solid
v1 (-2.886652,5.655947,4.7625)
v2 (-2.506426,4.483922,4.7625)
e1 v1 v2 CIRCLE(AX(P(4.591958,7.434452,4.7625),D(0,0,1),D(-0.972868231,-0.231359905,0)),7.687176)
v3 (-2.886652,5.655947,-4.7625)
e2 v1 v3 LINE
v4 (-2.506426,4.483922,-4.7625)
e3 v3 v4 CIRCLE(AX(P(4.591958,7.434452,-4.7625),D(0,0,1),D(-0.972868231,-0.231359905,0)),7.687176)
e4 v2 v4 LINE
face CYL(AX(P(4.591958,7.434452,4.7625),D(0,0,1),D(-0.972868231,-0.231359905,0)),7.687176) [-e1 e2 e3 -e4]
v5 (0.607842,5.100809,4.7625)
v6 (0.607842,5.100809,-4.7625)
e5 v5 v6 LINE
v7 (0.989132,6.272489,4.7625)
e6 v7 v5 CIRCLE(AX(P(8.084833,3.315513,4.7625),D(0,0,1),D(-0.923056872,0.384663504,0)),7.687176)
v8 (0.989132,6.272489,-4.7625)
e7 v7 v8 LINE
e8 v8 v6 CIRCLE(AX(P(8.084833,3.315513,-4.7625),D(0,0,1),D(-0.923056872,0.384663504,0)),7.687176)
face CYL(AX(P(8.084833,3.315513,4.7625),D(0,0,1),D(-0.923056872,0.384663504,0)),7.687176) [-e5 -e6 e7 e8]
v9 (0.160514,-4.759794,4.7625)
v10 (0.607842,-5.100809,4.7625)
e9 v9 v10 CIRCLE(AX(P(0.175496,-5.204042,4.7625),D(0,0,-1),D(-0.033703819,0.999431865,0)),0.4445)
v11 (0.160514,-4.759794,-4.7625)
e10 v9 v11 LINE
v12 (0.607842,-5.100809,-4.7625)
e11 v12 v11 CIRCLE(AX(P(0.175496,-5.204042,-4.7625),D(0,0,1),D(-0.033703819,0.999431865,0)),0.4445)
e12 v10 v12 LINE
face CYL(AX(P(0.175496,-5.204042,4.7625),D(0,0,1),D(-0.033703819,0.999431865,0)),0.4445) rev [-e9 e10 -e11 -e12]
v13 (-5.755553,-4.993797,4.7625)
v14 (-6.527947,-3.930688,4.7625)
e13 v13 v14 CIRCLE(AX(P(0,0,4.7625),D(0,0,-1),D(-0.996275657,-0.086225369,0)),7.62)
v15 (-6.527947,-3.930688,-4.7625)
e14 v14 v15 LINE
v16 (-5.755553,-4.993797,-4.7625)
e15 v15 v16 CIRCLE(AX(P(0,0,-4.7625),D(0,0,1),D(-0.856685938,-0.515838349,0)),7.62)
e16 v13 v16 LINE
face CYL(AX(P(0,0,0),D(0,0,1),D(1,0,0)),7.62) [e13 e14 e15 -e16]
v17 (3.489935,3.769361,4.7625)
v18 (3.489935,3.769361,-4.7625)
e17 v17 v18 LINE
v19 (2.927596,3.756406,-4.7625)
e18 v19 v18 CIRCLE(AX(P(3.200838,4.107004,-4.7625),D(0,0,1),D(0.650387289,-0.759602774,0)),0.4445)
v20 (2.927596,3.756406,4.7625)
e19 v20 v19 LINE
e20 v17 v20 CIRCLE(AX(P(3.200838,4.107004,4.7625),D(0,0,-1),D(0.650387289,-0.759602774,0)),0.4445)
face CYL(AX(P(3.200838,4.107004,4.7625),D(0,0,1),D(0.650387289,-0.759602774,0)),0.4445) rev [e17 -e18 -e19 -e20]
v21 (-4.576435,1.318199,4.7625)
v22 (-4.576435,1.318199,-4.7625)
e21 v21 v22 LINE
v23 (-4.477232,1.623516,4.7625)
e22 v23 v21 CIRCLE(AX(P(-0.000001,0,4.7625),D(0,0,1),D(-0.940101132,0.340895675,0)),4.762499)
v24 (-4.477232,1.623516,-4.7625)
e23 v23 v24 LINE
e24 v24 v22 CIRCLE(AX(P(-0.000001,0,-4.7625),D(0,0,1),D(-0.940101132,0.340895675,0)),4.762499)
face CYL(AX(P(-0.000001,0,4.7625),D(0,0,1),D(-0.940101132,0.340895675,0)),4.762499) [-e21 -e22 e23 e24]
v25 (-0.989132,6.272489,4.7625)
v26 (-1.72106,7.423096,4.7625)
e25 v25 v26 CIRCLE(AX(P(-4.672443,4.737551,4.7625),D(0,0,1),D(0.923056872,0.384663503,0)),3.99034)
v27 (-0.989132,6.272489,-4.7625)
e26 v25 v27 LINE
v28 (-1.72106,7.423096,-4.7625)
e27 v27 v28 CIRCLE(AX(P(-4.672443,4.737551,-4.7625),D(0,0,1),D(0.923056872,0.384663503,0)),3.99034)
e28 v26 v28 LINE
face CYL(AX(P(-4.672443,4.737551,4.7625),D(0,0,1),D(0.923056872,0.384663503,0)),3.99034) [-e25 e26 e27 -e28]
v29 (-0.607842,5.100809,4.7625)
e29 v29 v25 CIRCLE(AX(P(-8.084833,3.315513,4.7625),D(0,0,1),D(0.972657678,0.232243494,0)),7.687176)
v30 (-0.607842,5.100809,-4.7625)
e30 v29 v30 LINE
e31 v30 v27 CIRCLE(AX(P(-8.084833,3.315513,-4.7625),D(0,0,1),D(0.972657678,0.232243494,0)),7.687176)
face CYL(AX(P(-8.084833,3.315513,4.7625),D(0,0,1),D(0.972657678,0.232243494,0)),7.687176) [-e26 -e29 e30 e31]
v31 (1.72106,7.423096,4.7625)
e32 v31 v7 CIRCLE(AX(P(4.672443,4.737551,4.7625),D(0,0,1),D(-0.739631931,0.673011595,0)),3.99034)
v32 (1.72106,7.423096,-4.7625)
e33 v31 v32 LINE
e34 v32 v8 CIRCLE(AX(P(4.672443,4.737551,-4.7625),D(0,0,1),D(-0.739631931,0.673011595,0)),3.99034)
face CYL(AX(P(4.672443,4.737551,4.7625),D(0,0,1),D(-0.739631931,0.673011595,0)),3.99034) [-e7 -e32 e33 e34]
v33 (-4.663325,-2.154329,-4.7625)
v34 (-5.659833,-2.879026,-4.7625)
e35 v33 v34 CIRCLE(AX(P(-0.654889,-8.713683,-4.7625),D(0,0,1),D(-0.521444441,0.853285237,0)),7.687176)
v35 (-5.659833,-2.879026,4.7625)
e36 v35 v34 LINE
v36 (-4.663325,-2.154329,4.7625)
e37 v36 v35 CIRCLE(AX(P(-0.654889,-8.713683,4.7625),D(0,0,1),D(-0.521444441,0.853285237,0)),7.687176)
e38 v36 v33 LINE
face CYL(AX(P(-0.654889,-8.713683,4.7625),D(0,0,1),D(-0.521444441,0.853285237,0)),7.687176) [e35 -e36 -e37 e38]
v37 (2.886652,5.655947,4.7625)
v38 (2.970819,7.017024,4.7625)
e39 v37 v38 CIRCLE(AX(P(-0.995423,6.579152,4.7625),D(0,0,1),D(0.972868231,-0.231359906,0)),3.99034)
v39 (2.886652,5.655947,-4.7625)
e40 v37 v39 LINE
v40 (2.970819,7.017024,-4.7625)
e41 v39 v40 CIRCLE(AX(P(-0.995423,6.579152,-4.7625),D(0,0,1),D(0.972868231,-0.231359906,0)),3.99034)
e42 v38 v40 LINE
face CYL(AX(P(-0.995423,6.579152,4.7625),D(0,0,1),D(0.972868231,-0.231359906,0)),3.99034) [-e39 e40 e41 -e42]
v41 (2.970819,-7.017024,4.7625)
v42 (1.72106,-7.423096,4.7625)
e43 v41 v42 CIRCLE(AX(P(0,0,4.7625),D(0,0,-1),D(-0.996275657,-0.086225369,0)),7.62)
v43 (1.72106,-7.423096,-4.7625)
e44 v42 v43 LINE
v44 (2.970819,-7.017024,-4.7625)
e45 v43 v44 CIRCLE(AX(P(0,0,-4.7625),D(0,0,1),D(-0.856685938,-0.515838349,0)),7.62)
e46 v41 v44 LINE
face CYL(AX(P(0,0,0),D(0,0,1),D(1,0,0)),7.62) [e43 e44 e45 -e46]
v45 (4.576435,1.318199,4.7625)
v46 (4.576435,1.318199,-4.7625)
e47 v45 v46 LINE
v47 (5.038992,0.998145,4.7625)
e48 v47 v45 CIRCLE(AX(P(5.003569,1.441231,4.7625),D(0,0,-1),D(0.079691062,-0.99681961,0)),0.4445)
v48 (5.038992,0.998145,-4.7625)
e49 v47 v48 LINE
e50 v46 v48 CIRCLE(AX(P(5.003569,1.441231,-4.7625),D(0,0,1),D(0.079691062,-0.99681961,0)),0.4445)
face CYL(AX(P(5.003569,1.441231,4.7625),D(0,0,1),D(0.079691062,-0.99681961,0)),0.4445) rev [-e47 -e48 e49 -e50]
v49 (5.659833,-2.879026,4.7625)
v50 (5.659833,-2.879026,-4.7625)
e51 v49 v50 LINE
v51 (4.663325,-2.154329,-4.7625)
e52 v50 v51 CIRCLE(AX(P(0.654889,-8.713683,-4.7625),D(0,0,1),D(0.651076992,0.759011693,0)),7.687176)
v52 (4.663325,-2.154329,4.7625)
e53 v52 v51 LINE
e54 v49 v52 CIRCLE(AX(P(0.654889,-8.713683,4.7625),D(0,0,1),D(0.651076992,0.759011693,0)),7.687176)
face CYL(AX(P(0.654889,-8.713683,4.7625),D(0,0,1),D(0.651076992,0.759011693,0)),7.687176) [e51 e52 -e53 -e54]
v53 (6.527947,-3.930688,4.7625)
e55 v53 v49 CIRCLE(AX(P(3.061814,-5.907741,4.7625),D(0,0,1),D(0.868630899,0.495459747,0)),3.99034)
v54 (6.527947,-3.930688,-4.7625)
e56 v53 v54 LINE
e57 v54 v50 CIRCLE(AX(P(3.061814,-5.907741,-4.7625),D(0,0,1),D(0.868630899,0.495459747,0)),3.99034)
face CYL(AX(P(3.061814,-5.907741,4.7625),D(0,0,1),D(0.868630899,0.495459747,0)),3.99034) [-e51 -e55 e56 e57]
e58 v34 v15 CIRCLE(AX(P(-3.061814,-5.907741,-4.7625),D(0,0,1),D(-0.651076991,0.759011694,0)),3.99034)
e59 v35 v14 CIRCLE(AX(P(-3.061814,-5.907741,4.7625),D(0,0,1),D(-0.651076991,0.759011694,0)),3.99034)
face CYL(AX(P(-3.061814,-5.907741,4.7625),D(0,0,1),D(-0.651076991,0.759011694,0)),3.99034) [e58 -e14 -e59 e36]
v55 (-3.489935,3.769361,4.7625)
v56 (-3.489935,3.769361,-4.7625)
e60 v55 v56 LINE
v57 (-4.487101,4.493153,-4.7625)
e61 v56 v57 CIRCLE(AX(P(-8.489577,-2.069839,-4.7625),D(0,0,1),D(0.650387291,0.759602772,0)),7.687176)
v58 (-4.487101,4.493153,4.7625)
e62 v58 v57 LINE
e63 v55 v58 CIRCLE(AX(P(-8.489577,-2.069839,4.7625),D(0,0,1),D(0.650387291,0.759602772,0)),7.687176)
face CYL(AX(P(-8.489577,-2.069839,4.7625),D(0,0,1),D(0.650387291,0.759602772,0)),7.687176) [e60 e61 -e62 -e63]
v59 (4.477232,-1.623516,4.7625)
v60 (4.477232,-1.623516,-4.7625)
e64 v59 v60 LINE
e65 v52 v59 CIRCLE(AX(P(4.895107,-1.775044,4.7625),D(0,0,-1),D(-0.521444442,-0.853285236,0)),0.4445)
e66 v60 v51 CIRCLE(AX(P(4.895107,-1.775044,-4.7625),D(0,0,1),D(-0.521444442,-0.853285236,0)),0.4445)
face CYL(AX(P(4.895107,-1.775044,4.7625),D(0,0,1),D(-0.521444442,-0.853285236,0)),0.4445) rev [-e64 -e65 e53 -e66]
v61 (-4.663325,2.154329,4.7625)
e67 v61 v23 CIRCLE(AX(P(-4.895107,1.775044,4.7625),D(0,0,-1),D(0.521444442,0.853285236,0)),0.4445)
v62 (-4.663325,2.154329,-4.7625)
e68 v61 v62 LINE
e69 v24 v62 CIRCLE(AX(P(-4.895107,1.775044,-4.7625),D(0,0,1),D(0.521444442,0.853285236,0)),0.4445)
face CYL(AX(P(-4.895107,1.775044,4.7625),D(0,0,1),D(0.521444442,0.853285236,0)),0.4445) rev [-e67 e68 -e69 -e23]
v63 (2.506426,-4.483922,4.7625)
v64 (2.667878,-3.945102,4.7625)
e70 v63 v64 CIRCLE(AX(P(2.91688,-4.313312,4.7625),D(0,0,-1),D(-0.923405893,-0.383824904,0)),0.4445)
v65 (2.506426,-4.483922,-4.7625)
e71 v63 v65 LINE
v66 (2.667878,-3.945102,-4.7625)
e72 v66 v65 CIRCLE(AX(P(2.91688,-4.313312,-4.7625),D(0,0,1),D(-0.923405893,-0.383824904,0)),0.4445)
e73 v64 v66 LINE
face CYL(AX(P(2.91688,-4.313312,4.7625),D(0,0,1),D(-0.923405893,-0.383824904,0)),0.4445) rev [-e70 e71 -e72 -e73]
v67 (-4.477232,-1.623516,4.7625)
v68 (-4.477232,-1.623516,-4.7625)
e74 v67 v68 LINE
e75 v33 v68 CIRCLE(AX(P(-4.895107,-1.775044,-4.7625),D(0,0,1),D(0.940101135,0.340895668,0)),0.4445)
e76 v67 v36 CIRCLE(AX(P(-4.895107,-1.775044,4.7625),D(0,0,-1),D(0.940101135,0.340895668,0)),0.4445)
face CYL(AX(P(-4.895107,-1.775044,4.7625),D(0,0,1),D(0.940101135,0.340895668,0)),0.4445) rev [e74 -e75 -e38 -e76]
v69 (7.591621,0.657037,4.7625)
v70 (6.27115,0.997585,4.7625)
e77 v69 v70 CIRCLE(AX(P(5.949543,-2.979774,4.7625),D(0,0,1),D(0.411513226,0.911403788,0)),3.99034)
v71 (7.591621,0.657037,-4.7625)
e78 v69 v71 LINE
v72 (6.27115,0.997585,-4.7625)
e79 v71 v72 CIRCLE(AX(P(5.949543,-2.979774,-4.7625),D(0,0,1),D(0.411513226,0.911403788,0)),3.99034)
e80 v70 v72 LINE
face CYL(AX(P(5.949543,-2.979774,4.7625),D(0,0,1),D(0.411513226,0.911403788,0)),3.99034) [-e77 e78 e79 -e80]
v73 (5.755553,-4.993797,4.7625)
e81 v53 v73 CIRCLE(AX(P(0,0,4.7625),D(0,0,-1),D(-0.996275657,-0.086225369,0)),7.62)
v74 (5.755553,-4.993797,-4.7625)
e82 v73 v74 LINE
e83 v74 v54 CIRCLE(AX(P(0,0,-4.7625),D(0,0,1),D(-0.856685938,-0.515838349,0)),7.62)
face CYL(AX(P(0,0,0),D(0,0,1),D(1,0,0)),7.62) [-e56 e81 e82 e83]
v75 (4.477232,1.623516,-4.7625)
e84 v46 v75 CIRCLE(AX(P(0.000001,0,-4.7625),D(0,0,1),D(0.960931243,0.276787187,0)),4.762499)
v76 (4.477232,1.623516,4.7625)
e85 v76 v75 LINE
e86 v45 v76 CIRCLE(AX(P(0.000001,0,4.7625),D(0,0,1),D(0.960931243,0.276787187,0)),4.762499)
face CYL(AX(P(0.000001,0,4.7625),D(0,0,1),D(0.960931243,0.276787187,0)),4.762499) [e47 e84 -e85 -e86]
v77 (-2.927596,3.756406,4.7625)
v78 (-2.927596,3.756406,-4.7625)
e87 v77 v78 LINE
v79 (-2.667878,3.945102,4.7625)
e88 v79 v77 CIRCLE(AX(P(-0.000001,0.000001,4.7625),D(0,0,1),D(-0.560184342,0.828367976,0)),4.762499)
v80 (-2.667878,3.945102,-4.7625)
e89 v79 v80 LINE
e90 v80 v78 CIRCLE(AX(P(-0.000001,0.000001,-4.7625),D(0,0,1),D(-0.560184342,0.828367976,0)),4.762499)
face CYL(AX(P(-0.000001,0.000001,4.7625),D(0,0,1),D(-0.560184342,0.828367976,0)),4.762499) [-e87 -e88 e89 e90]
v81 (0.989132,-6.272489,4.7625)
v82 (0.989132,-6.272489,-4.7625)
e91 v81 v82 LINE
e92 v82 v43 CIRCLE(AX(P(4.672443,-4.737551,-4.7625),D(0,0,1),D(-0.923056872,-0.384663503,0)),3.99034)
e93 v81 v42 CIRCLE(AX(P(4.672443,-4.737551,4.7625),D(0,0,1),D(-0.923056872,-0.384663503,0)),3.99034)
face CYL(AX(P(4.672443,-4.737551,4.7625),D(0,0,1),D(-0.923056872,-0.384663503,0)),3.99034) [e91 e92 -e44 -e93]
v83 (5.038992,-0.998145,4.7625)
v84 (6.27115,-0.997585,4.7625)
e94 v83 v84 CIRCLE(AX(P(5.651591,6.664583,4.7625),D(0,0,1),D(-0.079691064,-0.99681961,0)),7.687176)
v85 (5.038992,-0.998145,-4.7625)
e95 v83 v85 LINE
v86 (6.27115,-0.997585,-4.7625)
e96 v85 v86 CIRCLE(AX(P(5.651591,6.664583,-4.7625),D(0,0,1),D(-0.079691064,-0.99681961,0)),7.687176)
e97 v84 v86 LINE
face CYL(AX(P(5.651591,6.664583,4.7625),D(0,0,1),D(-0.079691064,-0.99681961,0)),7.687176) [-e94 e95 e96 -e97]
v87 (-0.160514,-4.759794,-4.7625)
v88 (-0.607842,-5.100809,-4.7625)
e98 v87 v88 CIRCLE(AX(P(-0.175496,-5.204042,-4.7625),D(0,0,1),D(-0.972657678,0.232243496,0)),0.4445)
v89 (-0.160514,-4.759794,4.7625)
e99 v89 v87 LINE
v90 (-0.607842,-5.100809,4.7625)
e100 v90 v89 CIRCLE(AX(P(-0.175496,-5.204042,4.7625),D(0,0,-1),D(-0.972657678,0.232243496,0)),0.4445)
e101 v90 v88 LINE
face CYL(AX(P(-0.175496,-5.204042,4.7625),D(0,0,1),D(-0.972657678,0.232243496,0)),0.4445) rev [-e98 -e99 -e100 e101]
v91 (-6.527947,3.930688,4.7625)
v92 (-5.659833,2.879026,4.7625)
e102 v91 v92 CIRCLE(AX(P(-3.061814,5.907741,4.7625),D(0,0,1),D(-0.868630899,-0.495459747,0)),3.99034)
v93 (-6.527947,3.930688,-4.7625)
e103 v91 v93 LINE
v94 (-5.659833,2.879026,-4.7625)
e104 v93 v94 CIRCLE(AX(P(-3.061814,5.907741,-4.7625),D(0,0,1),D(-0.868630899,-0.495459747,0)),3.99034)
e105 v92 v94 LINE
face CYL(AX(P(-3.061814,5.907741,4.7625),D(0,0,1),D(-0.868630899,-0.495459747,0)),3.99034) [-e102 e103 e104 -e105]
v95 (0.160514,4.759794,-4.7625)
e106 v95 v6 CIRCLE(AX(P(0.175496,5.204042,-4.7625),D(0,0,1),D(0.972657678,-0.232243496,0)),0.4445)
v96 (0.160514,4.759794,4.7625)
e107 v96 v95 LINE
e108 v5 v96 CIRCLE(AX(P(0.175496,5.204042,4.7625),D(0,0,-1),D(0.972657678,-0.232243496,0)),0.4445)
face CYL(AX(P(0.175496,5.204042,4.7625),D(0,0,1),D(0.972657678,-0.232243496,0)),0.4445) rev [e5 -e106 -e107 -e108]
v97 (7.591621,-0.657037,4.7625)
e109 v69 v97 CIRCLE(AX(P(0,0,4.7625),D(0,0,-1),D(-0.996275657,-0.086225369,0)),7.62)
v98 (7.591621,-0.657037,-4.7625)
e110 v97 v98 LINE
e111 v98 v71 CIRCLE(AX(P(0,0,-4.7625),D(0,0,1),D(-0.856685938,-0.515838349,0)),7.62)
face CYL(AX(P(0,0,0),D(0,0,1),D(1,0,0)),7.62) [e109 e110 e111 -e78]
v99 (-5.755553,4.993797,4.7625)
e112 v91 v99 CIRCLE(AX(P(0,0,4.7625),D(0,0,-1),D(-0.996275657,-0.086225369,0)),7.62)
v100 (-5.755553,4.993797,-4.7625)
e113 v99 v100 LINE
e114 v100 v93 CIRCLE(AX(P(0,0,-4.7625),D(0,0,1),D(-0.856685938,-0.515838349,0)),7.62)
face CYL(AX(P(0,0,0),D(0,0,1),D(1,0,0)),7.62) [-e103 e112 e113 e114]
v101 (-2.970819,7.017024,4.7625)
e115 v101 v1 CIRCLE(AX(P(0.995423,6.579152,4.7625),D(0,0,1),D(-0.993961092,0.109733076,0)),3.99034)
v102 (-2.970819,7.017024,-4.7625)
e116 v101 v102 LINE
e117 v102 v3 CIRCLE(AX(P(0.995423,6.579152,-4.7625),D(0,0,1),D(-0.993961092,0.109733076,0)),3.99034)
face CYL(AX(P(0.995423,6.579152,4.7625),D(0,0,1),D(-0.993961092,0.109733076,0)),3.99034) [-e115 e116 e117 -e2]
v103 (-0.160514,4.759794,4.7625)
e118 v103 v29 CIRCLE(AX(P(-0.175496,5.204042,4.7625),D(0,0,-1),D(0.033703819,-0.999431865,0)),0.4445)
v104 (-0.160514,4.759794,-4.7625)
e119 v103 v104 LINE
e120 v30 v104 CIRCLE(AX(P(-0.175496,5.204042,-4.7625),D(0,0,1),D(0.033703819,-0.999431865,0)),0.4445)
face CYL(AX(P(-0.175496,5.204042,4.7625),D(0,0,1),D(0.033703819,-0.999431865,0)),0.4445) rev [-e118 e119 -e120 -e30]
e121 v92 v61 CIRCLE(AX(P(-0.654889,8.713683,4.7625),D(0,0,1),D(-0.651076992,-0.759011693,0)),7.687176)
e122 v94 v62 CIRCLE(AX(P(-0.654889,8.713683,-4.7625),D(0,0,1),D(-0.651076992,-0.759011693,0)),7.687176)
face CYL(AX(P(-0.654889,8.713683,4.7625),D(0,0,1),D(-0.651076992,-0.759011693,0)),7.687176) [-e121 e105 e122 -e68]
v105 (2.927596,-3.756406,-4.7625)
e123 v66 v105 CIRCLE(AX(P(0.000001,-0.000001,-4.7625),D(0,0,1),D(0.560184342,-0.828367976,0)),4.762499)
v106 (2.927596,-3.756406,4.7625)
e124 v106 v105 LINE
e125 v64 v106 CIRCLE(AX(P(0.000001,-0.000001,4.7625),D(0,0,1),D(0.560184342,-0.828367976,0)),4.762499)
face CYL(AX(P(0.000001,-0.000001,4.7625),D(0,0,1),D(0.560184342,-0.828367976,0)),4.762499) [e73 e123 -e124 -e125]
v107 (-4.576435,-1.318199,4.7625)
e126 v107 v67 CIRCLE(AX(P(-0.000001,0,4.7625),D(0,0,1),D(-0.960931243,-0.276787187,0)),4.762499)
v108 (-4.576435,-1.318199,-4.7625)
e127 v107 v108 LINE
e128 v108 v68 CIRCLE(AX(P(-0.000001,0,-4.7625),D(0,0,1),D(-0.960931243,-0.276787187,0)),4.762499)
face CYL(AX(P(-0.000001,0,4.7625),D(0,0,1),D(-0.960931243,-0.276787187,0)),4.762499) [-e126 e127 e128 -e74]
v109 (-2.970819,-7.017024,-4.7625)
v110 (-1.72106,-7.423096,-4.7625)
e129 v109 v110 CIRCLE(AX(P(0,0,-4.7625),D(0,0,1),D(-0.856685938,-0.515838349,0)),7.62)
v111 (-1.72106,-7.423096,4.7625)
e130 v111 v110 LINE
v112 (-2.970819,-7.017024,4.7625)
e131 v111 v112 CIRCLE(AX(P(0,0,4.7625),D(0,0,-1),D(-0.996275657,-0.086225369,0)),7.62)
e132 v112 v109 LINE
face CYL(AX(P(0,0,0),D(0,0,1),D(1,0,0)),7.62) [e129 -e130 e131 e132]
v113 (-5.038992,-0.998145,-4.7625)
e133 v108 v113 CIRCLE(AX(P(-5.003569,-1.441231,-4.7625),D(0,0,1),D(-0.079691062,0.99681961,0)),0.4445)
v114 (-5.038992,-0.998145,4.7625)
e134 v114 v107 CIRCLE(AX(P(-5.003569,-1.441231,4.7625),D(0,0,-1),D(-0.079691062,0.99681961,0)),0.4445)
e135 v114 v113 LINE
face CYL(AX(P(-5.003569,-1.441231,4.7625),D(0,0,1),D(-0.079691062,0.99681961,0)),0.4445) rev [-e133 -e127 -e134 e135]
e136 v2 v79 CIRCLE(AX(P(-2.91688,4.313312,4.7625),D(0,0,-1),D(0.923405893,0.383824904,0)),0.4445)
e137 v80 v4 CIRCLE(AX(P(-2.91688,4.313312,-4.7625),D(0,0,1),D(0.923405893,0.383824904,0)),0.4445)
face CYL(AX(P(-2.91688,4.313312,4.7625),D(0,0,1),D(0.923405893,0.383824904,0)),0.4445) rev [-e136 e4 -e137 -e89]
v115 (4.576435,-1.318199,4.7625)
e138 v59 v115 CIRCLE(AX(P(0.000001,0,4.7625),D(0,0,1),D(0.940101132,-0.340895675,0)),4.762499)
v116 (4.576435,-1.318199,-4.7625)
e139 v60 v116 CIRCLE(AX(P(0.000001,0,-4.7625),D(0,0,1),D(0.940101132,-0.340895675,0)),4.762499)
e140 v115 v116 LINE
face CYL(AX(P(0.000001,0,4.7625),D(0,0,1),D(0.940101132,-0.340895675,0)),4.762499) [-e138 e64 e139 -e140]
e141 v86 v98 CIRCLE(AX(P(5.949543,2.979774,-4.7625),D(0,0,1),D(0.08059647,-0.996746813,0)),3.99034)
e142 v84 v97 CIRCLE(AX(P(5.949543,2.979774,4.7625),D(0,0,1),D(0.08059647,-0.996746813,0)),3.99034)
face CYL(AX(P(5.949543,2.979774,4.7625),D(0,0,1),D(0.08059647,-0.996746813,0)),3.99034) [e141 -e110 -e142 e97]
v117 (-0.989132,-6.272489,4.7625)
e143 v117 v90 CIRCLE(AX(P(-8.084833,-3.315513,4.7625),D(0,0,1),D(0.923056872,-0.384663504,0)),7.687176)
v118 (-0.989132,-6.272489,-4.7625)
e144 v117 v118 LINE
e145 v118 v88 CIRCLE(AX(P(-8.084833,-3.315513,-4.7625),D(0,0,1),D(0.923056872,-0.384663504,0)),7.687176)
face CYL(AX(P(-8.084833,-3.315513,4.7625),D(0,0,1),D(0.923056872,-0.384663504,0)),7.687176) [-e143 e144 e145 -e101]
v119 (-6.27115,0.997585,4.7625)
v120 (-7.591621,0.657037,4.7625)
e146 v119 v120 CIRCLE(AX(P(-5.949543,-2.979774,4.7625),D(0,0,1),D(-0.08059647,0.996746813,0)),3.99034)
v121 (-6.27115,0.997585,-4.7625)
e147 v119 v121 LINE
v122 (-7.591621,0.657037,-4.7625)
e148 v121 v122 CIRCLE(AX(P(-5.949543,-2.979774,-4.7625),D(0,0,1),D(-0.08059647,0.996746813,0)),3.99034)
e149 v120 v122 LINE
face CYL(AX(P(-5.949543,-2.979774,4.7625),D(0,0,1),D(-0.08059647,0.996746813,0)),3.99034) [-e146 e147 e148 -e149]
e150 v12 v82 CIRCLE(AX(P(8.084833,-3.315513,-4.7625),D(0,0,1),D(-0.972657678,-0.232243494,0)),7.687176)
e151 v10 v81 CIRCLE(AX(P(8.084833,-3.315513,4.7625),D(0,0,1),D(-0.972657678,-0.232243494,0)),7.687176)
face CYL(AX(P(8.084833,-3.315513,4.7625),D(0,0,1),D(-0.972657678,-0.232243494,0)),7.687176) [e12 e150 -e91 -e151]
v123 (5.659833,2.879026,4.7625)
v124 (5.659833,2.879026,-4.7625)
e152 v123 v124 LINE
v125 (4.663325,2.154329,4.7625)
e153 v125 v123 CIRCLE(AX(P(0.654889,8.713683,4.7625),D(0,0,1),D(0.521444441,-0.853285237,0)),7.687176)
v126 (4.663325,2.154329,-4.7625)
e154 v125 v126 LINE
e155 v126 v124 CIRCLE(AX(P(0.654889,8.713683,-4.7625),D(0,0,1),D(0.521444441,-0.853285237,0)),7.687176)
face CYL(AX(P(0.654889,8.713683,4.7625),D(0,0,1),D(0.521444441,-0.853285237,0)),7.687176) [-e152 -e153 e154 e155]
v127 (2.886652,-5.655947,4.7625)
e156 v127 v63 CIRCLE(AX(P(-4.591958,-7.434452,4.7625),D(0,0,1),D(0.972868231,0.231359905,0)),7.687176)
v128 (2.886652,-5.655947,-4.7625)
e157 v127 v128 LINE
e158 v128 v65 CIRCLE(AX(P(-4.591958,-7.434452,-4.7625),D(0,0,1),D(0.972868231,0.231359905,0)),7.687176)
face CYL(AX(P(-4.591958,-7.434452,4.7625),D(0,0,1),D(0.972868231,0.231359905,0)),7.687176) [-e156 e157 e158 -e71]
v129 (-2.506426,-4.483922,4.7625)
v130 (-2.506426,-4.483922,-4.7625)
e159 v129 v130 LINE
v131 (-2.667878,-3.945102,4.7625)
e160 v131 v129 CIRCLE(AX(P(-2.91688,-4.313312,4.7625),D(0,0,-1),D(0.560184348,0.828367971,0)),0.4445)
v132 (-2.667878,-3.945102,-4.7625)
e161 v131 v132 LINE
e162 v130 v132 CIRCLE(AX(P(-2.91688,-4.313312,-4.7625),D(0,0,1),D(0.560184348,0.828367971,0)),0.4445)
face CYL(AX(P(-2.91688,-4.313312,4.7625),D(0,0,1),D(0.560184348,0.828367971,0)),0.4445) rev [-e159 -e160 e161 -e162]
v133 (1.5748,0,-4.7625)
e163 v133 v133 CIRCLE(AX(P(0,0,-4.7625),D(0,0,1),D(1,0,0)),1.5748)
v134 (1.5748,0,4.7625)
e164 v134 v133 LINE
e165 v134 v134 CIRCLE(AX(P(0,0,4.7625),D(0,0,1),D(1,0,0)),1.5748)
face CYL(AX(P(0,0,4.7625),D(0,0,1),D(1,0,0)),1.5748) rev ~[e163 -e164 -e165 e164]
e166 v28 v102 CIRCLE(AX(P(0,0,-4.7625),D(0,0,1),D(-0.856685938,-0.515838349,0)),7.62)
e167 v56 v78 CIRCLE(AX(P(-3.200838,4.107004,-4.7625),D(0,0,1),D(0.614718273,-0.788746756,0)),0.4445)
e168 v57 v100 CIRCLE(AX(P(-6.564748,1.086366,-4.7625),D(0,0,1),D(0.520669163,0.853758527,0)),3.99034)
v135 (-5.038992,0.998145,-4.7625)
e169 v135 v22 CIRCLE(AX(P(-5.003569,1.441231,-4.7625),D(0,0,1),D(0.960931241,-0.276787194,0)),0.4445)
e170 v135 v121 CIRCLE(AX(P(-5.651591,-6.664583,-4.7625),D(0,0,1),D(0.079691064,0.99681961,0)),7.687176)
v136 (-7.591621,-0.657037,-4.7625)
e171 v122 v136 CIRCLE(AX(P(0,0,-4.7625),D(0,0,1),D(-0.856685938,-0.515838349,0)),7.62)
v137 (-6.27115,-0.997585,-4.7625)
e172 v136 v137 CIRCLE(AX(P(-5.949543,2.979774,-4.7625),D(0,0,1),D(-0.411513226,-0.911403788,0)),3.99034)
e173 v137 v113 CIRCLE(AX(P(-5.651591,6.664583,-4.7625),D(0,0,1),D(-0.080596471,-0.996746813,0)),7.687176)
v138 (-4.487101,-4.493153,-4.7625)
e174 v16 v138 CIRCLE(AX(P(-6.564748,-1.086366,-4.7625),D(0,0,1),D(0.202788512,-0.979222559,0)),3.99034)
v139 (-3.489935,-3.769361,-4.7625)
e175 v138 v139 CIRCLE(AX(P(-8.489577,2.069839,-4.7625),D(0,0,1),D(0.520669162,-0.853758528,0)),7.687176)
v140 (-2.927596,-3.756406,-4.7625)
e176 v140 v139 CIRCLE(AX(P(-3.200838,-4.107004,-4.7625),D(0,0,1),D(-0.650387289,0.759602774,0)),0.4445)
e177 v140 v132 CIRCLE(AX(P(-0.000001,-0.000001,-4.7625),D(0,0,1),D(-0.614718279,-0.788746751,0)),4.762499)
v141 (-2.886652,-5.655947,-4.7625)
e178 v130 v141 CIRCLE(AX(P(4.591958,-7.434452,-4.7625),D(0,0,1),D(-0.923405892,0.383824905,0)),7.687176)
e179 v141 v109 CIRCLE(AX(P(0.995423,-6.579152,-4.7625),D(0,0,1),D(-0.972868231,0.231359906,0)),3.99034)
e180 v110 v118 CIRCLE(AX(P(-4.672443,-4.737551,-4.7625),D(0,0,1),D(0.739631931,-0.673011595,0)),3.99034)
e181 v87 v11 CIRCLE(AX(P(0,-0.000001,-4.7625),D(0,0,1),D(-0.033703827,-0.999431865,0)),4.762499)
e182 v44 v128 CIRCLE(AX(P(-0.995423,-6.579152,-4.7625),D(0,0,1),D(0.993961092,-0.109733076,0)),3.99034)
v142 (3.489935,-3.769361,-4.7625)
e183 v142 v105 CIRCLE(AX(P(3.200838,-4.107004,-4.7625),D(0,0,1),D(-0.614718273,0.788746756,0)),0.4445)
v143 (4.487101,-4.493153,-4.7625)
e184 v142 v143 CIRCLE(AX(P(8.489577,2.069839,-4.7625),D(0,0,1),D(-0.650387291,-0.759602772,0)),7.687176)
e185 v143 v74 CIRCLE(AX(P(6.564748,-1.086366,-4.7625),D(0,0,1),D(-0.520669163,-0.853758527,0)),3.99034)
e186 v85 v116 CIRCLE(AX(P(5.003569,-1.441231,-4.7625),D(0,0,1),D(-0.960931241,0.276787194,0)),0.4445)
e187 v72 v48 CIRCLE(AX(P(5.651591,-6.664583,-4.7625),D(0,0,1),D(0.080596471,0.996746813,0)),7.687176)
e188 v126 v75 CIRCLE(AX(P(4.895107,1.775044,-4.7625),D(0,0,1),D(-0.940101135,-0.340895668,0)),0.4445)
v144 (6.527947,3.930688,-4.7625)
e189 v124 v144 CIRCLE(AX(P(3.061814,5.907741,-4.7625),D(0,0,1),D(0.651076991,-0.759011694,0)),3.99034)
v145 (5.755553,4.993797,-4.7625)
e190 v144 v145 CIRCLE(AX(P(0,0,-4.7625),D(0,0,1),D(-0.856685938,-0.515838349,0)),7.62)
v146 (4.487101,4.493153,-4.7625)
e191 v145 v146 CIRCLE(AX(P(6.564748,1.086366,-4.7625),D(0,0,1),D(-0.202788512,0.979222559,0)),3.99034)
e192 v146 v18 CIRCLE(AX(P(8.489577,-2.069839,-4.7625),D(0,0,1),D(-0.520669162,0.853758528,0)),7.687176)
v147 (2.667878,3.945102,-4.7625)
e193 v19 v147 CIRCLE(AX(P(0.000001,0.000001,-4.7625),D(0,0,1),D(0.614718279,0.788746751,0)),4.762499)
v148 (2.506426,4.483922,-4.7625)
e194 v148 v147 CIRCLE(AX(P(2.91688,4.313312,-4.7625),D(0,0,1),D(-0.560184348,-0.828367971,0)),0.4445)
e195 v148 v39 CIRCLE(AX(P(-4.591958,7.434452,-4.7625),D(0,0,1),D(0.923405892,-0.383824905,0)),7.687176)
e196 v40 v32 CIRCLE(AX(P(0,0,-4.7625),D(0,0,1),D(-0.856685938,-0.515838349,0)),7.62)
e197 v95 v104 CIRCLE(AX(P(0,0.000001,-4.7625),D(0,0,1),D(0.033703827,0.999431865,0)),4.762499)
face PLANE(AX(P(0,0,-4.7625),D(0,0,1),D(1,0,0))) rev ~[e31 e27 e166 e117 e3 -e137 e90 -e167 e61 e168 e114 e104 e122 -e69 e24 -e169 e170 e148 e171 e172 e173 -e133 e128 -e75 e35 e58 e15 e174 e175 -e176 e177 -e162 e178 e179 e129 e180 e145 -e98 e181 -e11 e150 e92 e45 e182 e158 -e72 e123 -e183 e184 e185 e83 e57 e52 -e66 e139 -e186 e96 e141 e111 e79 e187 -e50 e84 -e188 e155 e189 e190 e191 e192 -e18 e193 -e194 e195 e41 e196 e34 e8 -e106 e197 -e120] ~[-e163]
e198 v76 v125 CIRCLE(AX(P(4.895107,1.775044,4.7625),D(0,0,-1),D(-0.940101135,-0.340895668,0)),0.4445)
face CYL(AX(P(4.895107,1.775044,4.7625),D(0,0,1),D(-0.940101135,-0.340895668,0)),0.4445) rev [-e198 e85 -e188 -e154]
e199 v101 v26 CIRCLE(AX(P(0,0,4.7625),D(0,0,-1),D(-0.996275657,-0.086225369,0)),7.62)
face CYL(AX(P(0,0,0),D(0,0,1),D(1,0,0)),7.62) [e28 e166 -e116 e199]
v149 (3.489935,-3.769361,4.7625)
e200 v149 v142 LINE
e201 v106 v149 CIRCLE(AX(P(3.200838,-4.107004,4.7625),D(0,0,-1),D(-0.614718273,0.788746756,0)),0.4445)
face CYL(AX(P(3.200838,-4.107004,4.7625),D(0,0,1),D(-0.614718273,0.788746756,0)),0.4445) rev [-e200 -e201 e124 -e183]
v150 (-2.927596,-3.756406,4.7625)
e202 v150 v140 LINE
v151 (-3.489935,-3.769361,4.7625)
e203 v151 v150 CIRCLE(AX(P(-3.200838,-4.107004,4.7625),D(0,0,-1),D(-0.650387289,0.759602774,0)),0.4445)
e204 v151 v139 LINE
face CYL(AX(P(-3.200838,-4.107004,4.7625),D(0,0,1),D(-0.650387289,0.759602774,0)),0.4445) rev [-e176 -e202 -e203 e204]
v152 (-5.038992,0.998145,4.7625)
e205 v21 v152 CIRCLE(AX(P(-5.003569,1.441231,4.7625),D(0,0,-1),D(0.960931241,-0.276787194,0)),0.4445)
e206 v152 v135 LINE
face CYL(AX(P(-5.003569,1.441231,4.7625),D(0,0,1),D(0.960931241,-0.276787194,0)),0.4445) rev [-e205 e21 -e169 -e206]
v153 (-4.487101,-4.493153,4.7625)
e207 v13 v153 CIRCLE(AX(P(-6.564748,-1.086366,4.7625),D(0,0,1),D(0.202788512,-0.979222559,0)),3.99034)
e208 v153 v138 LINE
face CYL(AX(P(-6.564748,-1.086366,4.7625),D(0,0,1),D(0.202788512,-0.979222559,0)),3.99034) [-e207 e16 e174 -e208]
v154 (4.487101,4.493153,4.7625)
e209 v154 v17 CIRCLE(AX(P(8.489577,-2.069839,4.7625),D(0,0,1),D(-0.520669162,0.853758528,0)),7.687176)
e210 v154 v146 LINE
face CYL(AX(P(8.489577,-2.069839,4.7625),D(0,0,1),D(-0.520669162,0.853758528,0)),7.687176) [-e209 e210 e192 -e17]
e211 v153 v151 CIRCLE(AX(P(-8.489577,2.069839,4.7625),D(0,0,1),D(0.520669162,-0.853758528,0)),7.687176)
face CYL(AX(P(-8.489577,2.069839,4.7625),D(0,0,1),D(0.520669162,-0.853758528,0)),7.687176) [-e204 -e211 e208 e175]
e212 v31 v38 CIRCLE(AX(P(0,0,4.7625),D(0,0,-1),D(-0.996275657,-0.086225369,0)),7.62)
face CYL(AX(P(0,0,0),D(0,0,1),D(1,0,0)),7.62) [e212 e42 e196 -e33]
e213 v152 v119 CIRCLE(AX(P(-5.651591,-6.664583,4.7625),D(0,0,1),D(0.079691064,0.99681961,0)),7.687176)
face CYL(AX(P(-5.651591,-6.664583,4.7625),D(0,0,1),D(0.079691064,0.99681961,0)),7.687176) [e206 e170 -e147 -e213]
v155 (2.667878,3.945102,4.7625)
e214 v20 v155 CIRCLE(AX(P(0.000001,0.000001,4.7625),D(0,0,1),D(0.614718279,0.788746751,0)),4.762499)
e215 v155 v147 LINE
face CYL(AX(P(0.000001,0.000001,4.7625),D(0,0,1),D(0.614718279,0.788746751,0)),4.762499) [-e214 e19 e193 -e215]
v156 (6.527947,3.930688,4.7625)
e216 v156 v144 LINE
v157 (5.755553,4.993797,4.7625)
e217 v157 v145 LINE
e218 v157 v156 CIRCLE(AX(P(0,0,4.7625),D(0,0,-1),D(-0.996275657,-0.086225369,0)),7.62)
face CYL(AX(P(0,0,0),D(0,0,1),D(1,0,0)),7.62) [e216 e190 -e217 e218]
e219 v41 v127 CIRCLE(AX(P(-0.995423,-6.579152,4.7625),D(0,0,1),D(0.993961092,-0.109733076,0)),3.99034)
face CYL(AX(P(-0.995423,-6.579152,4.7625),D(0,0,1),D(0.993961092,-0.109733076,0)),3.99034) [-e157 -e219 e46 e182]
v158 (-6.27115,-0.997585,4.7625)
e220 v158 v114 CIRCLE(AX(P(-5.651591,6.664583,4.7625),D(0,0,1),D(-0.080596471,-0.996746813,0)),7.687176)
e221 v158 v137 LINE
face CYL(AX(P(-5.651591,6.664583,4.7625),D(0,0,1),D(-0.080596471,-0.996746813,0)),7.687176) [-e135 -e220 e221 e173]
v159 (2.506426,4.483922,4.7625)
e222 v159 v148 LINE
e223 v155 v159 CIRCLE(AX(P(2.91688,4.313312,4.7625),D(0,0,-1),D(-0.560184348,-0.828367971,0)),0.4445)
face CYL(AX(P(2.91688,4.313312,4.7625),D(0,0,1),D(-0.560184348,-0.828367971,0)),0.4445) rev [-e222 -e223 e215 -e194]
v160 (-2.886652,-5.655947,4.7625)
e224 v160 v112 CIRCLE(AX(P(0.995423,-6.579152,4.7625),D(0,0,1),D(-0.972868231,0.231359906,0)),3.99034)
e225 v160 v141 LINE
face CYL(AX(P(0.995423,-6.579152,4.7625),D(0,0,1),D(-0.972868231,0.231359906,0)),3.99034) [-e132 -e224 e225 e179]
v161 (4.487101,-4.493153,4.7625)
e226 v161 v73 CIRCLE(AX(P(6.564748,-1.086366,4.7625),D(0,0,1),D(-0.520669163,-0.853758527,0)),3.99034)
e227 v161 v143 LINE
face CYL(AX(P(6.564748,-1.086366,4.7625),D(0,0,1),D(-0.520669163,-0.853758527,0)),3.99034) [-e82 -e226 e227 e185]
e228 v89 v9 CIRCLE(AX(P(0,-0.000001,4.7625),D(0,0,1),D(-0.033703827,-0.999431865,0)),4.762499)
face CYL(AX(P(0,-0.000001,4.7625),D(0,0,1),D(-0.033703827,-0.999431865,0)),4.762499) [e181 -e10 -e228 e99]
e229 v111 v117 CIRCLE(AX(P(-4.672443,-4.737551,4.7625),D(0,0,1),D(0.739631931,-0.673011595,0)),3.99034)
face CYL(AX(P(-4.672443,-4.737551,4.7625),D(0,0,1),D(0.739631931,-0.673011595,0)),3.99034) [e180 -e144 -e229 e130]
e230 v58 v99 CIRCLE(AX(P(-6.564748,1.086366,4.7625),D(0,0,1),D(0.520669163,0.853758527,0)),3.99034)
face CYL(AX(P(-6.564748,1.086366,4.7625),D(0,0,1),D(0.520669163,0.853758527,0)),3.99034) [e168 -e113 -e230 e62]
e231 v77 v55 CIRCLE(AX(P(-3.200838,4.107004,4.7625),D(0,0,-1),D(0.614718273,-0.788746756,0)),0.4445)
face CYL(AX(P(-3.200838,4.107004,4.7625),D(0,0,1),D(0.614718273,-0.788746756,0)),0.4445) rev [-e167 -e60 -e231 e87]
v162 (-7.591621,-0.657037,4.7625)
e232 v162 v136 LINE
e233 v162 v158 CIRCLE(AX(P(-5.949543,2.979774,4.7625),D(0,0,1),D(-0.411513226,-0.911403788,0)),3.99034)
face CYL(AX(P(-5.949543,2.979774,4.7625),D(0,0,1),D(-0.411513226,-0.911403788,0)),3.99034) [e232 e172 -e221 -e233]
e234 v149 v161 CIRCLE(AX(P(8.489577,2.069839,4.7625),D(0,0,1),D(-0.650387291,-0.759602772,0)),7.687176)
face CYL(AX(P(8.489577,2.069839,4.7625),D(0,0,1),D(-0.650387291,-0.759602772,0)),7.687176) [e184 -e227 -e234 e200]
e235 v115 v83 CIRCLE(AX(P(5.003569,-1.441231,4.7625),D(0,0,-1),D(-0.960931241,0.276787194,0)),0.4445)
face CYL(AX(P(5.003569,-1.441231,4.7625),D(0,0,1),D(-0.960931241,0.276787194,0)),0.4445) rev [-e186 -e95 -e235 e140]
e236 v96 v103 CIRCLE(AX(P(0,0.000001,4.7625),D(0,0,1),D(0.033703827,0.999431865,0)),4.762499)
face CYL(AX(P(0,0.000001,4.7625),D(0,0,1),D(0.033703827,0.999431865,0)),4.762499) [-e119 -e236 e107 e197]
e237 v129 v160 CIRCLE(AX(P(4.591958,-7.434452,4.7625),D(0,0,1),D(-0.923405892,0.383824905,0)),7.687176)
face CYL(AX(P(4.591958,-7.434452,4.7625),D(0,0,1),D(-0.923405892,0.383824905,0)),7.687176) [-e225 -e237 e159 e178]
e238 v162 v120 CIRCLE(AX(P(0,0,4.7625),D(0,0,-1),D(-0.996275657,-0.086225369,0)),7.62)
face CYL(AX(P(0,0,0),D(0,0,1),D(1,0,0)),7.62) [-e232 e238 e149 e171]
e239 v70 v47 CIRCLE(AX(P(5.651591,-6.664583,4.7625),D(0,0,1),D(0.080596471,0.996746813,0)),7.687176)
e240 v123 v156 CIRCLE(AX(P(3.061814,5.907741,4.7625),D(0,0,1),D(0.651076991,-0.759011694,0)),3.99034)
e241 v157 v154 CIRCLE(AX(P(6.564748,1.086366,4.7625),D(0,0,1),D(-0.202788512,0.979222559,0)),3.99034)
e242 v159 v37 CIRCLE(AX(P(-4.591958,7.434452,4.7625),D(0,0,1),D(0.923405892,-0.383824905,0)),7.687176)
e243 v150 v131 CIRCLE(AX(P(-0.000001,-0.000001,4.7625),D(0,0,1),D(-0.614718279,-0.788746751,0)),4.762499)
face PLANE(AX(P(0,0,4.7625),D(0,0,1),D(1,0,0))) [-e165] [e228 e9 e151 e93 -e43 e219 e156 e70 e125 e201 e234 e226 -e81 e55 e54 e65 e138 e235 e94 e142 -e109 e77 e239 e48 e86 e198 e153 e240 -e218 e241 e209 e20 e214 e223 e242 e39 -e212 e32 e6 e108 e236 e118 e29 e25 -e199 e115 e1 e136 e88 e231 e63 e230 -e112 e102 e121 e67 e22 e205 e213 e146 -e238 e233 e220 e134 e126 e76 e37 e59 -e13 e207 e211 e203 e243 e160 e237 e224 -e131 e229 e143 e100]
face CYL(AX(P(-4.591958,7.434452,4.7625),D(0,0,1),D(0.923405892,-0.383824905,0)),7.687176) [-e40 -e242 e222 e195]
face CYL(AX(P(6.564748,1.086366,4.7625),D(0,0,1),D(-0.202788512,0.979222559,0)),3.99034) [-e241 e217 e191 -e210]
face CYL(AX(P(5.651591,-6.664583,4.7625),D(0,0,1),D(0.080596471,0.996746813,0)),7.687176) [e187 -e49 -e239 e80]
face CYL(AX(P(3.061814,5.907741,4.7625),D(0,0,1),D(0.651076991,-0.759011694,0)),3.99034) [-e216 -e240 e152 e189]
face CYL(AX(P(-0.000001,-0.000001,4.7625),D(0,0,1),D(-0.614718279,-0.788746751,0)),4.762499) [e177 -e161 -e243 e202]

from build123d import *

# Parameters (mm, degrees)
SKETCH1_R           = 7.62
ROUND_STOCK_DEPTH   = 4.7625
SINGLE_TOOTH_DEPTH  = 15.382434599
TOOTH_PATTERN_COUNT = 10
SKETCH5_R           = 1.5748
CUT_EXTRUDE1_DEPTH  = 15.279088802


with BuildPart() as part:
    # Sketch1 → Round Stock (new, symmetric)
    with BuildSketch(Plane.XY):
        Circle(SKETCH1_R)
    extrude(amount=ROUND_STOCK_DEPTH, both=True)

    # Sketch2 → Single Tooth (cut, through all)
    with BuildSketch(Plane.XY.offset(4.7625)):
        with BuildLine():
            ThreePointArc((-6.527946851, -3.930688223), (-7.247050654, -2.354709497), (-7.59162051, -0.657037315))
            ThreePointArc((-7.59162051, -0.657037315), (-6.946040634, -0.884136963), (-6.271150147, -0.997585))
            ThreePointArc((-6.271150147, -0.997585), (-5.655082128, -1.02259203), (-5.038991647, -0.998144603))
            ThreePointArc((-5.038991647, -0.998144603), (-4.750649746, -1.075701008), (-4.576435033, -1.318199012))
            ThreePointArc((-4.576435033, -1.318199012), (-4.529406659, -1.471693436), (-4.477231654, -1.623515618))
            ThreePointArc((-4.477231654, -1.623515618), (-4.475637567, -1.922101463), (-4.663324555, -2.15432903))
            ThreePointArc((-4.663324555, -2.15432903), (-5.17612206, -2.496679544), (-5.659832794, -2.879026353))
            ThreePointArc((-5.659832794, -2.879026353), (-6.139147584, -3.367498418), (-6.527946851, -3.930688223))
        make_face()
    single_tooth = extrude(amount=-SINGLE_TOOTH_DEPTH, mode=Mode.SUBTRACT)

    # Tooth Pattern: Single Tooth ×10 about axis
    tooth_pattern_axis = Axis((0, 0, 50), (0, 0, -1))
    for i in range(1, TOOTH_PATTERN_COUNT):
        add(single_tooth.rotate(tooth_pattern_axis, i * 360 / TOOTH_PATTERN_COUNT), mode=Mode.SUBTRACT)

    # Sketch5 → Cut-Extrude1 (cut, through all)
    with BuildSketch(Plane.XY.offset(4.7625)):
        Circle(SKETCH5_R)
    extrude(amount=-CUT_EXTRUDE1_DEPTH, mode=Mode.SUBTRACT)


solid = part.part
